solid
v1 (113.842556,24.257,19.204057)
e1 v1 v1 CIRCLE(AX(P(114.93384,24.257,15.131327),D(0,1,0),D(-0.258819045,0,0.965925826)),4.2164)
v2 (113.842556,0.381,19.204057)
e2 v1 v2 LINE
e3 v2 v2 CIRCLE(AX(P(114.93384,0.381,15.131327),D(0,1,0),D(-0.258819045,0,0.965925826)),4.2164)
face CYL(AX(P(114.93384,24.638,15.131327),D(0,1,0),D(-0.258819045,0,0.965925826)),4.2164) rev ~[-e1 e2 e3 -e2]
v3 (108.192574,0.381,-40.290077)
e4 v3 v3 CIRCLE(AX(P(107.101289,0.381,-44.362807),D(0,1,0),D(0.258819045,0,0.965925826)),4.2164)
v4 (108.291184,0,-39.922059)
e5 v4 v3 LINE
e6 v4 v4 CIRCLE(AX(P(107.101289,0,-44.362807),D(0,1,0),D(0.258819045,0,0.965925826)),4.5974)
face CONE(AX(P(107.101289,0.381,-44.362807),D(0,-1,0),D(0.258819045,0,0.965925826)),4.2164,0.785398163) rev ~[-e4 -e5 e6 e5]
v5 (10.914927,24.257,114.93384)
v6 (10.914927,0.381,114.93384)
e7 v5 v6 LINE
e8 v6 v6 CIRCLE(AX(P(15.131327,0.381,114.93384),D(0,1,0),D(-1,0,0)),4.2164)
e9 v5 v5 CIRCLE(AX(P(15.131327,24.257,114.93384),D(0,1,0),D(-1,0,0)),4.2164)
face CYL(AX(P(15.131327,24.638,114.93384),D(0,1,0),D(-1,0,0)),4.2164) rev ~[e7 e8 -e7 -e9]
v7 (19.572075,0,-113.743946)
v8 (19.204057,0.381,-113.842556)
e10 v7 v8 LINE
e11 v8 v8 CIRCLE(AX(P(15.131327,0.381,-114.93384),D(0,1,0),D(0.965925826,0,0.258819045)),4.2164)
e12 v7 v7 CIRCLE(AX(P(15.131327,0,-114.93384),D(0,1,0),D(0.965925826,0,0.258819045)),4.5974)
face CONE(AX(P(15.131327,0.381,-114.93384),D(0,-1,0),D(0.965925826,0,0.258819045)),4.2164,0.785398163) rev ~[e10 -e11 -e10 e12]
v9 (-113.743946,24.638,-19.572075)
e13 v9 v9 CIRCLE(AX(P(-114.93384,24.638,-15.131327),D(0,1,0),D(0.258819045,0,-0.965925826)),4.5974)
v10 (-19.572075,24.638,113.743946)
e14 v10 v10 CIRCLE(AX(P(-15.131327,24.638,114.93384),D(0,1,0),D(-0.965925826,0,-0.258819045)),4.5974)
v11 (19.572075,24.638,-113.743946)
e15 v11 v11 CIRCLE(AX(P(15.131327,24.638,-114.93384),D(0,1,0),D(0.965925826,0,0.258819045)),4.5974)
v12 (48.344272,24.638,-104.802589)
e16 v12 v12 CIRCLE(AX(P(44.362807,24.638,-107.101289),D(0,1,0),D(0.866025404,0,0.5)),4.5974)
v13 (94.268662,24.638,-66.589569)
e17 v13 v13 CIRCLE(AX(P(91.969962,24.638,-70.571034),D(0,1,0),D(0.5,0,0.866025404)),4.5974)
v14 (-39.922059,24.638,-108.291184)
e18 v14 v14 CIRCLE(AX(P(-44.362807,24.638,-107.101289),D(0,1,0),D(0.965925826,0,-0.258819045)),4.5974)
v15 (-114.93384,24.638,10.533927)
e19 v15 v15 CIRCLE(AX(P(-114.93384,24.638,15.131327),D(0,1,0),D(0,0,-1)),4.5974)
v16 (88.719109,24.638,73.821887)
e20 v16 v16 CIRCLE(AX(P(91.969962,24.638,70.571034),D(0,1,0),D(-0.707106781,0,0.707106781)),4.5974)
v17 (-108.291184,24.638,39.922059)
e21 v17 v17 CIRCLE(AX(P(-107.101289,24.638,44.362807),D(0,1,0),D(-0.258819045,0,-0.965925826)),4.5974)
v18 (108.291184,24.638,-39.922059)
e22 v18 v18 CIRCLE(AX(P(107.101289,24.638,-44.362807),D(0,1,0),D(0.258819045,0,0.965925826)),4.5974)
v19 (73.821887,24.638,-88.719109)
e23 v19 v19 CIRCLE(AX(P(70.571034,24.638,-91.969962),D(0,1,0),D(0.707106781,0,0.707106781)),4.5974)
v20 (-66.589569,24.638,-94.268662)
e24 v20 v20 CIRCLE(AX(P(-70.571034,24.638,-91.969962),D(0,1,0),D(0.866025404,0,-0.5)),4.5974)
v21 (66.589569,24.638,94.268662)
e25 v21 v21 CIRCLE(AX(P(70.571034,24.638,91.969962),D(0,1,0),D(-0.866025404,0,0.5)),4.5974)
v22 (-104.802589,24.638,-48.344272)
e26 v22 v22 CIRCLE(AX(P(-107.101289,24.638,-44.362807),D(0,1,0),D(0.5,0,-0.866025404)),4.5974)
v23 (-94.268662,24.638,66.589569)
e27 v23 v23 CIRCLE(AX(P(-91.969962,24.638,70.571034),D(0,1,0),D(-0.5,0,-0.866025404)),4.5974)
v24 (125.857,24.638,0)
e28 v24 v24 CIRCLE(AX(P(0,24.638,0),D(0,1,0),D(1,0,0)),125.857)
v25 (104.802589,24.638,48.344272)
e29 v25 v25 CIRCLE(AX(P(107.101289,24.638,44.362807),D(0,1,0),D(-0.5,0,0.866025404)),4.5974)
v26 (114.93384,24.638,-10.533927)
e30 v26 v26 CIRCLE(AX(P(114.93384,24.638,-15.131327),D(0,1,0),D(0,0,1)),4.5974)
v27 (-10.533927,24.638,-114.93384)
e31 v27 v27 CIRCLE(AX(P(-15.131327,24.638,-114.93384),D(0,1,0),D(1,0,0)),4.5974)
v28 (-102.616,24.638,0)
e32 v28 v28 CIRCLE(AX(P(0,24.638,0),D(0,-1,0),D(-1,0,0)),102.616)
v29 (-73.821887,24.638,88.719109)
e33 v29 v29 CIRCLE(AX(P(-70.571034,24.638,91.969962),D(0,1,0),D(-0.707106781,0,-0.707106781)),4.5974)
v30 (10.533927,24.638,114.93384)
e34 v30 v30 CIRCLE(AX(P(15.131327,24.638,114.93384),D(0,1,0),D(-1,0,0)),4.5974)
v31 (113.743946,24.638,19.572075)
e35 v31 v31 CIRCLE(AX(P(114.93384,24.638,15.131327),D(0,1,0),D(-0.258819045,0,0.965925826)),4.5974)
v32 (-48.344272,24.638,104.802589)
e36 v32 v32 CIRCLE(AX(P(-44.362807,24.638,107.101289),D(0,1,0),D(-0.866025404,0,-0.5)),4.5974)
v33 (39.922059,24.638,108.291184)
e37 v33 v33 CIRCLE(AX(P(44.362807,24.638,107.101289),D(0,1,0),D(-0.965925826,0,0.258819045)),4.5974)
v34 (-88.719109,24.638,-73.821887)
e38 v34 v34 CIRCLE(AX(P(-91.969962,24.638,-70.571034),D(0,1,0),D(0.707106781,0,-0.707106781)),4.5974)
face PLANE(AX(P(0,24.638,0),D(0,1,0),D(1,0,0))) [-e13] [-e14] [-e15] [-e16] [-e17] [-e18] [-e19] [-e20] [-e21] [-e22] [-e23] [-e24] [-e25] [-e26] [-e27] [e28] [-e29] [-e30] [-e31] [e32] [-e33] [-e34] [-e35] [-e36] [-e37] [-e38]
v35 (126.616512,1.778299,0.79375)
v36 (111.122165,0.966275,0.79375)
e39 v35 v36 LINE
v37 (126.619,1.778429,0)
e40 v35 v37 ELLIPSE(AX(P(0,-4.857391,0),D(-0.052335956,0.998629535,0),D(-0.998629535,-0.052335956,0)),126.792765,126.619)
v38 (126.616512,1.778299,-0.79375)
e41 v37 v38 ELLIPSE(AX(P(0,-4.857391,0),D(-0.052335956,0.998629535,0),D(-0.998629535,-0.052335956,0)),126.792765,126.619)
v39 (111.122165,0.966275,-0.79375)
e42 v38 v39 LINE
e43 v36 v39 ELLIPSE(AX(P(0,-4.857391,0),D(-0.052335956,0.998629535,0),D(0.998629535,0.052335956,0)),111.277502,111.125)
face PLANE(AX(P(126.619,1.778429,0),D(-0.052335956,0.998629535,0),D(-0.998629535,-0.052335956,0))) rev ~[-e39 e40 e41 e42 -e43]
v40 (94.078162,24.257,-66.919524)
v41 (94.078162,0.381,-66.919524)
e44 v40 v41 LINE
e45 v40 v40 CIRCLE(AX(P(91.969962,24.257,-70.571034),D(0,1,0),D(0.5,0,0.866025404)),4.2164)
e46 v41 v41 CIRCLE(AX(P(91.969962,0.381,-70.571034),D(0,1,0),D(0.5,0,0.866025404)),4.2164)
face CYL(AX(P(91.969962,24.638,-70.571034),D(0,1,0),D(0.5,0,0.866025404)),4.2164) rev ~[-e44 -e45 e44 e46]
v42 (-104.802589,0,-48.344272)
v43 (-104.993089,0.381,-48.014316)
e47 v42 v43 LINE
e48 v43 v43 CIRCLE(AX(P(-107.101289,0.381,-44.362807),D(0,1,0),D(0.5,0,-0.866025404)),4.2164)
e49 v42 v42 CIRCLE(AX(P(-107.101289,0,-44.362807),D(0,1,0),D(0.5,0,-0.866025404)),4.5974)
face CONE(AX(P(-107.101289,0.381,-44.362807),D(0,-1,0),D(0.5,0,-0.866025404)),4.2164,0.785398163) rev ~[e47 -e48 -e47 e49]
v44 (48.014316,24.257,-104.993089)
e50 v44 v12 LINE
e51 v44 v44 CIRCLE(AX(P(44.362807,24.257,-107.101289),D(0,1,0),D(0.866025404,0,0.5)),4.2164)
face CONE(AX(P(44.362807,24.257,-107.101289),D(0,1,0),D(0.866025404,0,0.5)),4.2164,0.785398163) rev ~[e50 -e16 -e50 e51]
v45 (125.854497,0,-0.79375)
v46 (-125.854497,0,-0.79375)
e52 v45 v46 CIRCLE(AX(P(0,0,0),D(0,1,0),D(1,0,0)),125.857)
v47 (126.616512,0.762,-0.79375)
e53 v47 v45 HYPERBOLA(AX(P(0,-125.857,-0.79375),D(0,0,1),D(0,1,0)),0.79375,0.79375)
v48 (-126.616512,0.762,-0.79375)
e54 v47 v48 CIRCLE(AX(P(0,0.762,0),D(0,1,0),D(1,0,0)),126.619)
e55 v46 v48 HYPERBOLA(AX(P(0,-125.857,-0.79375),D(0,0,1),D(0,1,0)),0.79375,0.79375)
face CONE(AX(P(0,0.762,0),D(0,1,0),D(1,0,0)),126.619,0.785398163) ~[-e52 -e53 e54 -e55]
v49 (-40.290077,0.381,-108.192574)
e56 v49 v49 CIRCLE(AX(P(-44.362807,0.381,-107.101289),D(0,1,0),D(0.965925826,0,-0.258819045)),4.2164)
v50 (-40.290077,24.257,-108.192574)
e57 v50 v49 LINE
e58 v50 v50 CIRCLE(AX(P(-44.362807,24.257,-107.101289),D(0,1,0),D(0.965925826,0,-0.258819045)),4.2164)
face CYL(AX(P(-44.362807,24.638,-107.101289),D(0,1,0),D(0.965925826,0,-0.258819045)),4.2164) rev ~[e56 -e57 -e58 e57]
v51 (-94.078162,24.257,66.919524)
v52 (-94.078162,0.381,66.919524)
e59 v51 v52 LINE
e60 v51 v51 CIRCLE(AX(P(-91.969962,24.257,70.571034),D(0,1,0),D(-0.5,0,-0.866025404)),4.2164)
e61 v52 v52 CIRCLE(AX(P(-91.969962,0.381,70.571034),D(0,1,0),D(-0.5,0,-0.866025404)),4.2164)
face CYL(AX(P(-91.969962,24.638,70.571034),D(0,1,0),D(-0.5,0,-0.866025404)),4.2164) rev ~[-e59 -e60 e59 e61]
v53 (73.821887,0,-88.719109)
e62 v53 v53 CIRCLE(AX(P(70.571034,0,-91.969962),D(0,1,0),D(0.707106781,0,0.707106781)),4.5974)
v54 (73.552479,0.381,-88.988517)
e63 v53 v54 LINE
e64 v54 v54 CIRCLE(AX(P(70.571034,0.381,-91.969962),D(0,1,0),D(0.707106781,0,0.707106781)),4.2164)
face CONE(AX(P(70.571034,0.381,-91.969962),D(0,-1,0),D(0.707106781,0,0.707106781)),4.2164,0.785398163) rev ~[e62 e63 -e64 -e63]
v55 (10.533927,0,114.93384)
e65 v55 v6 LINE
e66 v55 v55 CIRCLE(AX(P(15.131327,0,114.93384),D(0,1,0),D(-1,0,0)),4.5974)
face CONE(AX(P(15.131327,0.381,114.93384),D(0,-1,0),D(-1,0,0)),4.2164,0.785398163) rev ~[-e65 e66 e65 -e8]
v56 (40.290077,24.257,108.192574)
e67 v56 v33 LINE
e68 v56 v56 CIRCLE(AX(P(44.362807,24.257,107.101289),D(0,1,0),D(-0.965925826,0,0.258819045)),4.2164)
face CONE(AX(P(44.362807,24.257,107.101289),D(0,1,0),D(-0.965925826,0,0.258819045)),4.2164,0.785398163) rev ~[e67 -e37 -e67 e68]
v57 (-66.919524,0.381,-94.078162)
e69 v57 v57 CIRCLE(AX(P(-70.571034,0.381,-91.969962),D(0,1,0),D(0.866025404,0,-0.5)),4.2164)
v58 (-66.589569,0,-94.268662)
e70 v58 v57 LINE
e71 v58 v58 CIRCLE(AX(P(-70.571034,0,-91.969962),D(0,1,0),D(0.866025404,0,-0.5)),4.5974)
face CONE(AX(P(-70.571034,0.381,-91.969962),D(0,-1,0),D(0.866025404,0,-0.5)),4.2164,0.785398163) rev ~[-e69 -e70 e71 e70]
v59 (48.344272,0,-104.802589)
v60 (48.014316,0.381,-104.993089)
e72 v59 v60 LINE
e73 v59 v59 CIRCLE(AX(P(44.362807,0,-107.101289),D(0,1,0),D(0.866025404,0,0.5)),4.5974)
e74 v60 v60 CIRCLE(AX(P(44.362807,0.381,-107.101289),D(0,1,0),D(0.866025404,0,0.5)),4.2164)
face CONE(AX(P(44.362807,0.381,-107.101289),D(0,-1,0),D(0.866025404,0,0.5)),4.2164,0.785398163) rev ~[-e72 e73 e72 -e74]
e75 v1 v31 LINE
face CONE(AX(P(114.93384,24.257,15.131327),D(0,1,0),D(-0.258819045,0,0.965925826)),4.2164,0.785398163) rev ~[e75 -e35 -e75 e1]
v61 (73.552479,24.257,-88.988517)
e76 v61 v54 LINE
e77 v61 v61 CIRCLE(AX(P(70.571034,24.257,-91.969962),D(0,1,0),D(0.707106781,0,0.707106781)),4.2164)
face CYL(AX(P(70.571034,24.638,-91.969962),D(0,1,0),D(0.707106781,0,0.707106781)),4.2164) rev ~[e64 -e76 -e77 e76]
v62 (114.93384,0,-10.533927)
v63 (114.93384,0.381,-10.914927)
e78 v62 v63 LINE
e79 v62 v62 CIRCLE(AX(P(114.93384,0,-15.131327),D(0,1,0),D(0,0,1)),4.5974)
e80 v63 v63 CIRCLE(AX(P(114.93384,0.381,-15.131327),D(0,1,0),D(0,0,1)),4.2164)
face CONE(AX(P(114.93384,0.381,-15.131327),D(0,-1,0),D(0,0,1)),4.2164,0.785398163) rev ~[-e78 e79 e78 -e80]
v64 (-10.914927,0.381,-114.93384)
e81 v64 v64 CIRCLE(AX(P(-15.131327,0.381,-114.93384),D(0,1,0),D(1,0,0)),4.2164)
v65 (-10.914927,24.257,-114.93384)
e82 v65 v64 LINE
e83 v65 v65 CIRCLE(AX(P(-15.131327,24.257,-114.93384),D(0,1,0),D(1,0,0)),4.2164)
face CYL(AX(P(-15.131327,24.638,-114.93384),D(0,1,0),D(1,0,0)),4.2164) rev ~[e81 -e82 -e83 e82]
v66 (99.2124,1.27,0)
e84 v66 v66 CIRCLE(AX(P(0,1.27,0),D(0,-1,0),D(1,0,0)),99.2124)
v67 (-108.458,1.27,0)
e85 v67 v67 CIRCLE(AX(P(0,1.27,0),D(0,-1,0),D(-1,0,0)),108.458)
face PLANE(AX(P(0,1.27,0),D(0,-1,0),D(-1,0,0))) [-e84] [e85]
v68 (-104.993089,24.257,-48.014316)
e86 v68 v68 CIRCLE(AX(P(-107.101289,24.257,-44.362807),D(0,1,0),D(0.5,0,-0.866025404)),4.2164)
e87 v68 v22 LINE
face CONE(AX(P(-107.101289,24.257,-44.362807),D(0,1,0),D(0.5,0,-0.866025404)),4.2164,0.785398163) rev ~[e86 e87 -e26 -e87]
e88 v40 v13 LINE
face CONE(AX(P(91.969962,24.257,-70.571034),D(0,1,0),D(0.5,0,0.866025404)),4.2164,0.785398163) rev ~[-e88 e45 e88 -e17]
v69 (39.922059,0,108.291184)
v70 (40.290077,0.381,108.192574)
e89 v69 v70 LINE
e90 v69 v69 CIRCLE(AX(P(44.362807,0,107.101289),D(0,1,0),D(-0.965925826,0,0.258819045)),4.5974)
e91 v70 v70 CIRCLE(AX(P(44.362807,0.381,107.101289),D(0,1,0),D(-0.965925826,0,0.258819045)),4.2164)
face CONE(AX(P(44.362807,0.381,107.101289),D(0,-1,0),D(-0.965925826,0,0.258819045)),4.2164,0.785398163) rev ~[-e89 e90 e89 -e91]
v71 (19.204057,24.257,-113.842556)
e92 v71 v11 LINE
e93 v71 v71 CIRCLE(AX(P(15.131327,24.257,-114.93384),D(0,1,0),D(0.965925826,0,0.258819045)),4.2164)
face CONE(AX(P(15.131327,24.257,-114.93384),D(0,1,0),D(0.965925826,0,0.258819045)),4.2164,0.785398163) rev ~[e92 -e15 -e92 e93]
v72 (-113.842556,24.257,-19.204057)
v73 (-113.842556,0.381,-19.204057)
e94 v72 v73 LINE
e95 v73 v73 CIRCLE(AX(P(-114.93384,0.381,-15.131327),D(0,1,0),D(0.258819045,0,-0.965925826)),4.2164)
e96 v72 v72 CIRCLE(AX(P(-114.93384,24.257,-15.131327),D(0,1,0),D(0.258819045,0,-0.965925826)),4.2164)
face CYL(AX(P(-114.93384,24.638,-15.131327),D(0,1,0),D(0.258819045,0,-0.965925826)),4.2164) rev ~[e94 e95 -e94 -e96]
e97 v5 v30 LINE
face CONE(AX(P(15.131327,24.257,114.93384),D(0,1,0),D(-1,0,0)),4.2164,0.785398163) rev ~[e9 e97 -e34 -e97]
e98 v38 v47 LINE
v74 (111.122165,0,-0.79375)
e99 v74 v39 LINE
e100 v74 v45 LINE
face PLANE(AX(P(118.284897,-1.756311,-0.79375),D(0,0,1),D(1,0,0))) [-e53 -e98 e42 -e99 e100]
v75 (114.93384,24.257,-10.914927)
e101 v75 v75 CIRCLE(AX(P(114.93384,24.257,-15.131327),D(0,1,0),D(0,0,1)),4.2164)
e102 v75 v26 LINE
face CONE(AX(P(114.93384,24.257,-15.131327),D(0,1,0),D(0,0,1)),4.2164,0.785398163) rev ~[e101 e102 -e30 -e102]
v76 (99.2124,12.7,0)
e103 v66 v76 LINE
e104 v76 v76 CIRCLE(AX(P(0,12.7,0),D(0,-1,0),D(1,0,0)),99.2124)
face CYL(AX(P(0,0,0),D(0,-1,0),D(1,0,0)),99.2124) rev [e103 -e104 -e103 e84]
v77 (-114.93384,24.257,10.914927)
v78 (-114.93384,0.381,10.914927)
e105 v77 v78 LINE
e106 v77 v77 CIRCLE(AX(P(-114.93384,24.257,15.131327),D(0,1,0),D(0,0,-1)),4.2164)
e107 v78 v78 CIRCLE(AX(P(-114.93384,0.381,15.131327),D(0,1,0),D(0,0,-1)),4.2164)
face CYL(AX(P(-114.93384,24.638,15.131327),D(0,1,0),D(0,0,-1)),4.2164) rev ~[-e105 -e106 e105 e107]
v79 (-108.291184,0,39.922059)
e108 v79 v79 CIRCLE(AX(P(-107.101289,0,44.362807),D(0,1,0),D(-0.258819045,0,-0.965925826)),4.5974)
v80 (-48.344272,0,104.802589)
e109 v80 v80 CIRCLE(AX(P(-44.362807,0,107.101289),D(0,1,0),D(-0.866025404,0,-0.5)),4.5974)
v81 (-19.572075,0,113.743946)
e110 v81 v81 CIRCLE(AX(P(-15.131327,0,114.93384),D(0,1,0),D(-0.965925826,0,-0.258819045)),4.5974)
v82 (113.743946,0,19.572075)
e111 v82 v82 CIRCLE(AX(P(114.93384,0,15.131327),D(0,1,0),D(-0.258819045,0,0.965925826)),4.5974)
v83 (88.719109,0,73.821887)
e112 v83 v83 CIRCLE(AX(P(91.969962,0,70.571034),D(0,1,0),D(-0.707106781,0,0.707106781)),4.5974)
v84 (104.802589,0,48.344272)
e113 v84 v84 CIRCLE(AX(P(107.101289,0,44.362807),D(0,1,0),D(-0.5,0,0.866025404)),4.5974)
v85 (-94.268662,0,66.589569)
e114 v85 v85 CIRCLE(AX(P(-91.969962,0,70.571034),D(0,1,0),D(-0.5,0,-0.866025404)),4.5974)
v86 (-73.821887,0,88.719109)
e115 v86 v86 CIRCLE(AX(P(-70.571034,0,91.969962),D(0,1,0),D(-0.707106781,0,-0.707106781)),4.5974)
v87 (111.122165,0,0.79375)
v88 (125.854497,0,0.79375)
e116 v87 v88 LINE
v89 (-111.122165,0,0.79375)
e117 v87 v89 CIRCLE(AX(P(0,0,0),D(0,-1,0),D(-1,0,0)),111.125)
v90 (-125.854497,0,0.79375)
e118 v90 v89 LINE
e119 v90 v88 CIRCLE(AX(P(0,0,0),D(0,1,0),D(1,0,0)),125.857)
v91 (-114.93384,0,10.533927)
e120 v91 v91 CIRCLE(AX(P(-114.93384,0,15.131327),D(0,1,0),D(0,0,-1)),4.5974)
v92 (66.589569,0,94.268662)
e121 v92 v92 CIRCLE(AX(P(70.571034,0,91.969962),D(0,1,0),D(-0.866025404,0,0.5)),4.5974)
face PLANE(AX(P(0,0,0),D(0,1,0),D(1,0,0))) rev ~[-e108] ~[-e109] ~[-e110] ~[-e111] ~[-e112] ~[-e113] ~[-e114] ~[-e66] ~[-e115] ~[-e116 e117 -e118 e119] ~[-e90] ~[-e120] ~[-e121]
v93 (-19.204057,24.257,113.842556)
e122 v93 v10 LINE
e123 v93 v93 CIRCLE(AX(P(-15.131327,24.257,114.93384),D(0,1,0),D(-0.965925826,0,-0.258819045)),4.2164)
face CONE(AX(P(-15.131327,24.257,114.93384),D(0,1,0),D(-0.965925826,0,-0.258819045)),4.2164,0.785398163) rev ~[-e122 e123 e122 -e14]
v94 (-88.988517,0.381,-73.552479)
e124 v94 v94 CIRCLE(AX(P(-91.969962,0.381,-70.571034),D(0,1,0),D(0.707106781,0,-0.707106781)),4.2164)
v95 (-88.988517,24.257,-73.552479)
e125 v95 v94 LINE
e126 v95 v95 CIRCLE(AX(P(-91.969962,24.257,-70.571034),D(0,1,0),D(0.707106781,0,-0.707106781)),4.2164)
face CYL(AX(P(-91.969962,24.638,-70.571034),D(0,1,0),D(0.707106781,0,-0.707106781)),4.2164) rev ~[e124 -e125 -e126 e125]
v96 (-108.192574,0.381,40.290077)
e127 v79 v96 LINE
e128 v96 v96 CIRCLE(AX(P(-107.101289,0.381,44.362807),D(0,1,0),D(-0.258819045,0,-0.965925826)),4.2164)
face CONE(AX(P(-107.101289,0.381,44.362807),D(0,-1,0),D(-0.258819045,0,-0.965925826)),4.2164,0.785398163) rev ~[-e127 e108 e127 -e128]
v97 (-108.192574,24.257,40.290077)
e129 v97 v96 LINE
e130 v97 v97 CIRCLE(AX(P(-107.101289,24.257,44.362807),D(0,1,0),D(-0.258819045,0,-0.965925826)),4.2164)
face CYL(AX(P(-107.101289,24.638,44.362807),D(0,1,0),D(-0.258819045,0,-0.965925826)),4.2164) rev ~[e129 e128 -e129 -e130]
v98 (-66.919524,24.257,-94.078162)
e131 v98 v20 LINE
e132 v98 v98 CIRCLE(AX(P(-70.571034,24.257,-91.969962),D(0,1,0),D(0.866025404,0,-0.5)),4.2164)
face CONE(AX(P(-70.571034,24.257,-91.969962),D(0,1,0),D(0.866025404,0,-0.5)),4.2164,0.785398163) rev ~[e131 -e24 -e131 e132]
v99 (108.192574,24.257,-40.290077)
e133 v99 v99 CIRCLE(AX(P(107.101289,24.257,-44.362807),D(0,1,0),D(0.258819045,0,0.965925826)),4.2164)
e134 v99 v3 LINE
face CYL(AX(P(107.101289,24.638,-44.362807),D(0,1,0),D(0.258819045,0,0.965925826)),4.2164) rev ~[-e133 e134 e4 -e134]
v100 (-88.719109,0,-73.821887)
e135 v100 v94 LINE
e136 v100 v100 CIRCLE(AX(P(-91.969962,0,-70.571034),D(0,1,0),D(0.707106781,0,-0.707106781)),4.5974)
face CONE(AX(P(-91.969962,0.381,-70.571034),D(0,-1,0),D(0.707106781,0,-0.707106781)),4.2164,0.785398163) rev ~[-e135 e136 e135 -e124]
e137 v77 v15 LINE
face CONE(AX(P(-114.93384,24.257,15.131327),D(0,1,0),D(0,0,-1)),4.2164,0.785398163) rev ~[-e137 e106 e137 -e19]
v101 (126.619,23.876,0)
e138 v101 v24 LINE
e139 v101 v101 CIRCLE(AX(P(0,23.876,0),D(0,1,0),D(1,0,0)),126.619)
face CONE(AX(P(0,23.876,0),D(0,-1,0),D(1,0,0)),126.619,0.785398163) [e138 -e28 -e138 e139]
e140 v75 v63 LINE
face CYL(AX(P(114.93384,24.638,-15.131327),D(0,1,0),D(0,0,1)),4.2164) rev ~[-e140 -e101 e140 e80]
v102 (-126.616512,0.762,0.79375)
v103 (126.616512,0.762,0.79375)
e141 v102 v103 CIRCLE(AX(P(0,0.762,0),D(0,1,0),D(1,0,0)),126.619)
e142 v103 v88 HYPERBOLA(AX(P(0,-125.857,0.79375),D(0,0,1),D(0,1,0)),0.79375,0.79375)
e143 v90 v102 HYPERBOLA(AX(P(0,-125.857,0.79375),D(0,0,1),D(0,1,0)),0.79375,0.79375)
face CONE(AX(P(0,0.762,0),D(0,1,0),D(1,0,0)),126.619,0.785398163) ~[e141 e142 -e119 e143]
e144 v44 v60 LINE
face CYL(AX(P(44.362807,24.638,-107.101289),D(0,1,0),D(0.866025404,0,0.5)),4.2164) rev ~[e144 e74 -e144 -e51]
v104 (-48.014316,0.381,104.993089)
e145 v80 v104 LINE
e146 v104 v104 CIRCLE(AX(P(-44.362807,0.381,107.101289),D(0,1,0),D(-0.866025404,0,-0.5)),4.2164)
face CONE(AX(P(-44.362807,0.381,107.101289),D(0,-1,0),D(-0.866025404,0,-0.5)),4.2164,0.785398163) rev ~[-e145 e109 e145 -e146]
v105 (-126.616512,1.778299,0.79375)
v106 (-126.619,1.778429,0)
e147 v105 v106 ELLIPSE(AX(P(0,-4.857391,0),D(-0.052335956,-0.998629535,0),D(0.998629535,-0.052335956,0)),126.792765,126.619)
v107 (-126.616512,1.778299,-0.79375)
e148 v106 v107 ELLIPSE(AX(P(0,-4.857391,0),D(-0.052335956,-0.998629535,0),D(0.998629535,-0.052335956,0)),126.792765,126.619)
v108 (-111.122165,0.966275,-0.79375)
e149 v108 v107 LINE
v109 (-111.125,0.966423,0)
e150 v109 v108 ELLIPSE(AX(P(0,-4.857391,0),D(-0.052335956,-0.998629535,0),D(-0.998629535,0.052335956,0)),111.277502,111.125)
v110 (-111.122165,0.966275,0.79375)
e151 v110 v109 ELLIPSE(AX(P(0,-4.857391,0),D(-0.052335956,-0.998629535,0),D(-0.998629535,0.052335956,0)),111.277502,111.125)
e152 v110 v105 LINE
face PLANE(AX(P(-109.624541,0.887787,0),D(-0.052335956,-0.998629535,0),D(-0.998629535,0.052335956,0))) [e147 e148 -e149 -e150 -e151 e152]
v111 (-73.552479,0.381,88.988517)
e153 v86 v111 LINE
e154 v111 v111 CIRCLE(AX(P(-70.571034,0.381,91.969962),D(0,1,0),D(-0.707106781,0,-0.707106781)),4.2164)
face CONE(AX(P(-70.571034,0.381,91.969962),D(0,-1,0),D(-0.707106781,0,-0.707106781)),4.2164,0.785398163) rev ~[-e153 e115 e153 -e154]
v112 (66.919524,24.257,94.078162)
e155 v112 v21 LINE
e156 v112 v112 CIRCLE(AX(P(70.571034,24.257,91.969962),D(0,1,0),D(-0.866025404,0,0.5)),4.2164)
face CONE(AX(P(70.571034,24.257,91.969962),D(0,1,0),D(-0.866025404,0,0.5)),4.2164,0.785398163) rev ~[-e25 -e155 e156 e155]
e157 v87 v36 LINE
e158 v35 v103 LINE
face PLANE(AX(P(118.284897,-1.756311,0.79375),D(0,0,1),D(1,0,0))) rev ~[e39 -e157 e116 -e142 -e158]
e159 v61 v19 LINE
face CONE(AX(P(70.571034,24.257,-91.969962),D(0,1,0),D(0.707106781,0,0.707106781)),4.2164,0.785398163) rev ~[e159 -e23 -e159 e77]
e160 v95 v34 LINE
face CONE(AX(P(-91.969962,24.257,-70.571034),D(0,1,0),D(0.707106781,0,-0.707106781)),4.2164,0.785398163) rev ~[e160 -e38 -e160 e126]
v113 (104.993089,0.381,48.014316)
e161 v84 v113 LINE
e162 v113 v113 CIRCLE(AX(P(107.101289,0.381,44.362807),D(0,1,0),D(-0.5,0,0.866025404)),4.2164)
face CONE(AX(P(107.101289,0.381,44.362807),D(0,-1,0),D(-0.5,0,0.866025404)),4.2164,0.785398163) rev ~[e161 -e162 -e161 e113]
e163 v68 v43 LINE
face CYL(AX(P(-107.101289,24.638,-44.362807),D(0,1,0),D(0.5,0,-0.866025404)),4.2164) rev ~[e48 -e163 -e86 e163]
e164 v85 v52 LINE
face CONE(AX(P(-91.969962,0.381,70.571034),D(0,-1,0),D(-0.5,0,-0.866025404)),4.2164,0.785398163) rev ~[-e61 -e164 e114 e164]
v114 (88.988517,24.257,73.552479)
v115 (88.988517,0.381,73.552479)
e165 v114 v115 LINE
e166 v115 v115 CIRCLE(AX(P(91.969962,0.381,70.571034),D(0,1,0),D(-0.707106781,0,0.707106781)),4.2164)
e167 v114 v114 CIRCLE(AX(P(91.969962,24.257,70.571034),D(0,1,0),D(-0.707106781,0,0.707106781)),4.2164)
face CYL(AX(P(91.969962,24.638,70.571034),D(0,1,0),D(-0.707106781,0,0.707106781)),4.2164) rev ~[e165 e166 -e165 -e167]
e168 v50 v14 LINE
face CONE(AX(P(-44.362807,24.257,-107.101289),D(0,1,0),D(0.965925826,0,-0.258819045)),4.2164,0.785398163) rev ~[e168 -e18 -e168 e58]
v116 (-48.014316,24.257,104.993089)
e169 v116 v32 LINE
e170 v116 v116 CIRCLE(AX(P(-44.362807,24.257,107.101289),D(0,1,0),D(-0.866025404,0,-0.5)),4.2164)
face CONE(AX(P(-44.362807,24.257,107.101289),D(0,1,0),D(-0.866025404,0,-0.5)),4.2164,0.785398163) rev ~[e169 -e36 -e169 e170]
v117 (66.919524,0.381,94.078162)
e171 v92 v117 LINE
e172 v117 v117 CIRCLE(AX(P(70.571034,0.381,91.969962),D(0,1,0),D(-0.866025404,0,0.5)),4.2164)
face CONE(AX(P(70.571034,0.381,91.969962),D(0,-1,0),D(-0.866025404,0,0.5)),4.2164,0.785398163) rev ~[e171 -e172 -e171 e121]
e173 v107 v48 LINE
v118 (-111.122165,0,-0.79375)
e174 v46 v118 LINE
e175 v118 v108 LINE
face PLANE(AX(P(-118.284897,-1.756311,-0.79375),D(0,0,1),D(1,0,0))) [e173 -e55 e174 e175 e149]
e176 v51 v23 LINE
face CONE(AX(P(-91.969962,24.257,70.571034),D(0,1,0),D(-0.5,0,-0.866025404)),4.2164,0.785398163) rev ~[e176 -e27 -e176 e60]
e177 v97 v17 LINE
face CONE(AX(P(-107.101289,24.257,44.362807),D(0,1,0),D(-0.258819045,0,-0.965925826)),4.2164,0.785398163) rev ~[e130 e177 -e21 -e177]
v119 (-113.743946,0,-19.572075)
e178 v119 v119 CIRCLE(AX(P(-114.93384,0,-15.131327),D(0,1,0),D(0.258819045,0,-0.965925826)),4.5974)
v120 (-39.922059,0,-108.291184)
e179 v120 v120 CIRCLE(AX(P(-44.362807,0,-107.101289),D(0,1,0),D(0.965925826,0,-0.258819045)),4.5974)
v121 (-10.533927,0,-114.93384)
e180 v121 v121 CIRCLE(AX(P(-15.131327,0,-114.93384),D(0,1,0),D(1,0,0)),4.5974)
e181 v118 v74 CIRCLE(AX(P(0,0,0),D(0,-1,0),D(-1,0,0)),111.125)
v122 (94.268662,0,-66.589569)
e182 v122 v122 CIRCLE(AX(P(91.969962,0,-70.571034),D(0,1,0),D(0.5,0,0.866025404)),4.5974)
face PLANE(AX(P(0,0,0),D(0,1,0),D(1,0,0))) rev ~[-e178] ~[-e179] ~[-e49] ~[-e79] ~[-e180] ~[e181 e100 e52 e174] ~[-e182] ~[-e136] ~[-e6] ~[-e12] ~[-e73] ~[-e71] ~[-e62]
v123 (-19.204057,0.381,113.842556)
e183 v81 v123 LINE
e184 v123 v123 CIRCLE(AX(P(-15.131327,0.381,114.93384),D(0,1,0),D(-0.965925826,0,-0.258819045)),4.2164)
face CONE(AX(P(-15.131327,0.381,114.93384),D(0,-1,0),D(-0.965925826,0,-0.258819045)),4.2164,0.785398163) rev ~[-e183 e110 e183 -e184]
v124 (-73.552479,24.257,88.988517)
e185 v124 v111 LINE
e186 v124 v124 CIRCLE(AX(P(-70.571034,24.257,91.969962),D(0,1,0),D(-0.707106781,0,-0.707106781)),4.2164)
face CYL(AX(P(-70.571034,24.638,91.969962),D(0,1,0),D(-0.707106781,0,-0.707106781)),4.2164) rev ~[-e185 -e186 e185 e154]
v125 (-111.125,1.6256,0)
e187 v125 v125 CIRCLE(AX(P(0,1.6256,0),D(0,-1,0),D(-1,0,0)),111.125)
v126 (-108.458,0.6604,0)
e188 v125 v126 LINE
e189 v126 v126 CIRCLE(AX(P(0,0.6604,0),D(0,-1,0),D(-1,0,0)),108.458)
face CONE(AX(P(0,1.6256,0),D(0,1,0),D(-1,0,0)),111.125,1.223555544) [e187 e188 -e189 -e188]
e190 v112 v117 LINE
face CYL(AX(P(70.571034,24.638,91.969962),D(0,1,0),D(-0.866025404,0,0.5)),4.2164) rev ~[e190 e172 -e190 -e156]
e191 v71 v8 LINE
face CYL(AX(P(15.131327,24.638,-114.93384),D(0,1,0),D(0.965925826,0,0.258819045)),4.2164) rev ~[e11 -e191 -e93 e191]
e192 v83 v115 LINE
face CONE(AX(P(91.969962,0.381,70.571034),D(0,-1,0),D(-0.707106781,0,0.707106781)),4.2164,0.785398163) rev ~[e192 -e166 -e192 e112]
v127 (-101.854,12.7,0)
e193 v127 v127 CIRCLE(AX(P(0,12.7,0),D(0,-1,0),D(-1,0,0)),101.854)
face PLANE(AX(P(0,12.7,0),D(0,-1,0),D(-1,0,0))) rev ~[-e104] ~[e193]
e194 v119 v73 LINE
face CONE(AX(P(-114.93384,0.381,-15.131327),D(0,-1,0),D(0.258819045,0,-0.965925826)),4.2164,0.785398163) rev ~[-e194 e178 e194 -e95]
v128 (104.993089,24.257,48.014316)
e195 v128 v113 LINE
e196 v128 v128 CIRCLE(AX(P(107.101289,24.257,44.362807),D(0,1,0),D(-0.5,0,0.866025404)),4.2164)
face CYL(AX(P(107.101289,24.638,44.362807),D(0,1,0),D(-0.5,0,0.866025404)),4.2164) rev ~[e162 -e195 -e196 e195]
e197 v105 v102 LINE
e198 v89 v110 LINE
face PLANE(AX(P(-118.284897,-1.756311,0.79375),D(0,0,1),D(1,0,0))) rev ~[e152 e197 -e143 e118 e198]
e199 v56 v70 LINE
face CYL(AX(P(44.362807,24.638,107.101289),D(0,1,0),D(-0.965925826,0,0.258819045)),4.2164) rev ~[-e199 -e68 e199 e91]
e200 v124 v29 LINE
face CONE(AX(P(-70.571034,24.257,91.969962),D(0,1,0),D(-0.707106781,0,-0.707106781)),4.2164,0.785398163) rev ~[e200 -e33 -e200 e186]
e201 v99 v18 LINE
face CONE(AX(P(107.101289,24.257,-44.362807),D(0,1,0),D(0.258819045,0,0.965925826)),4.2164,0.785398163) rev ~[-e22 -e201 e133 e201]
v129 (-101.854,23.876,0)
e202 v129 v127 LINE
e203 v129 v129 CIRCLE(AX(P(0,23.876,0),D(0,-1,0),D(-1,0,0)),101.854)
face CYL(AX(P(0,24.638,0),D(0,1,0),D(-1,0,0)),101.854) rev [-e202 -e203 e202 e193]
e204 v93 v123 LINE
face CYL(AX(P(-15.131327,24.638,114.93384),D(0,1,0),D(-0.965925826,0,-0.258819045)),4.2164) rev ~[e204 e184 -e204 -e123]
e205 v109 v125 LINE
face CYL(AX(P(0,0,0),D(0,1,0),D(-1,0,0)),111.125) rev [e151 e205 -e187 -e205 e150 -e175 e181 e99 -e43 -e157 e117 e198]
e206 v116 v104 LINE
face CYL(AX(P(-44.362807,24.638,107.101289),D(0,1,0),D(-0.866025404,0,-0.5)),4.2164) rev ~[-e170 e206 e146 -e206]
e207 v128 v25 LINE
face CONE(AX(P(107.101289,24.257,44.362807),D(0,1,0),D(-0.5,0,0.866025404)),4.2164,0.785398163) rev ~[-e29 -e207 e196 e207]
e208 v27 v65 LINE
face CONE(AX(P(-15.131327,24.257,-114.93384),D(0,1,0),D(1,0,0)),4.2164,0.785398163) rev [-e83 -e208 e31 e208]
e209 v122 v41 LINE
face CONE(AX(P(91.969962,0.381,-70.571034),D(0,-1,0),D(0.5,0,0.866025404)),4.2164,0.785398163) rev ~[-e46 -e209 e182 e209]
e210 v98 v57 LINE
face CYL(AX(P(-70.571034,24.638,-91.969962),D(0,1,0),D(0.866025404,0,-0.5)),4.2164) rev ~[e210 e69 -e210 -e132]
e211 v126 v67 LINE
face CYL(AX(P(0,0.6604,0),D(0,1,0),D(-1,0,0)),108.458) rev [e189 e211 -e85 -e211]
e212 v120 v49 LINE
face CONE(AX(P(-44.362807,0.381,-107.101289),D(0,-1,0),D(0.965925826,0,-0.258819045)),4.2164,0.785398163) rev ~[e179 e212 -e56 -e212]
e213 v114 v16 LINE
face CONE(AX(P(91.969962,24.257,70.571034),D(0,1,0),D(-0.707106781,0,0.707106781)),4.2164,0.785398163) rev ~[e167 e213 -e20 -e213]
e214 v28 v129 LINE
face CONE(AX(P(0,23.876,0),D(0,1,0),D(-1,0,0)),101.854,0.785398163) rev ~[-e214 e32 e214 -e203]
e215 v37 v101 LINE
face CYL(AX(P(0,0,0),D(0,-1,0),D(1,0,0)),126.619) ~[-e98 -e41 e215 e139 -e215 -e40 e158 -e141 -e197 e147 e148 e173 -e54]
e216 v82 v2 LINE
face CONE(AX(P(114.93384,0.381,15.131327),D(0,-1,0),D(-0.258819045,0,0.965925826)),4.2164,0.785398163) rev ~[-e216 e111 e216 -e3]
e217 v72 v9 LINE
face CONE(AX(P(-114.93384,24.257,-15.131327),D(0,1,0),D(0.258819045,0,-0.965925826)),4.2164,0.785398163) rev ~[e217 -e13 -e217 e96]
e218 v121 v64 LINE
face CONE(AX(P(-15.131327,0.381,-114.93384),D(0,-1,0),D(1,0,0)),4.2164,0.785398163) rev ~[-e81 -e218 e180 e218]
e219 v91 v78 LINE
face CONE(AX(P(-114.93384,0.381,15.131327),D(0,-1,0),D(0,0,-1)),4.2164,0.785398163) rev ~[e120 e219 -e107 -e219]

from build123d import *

# Parameters (mm, degrees)
SKETCH1_R                    = 126.619
SKETCH1_R_2                  = 99.2124
BOSS_EXTRUDE1_DEPTH          = 24.638
SKETCH2_R                    = 101.854
CUT_EXTRUDE1_DEPTH           = 11.938
CHAMFER1_SIZE                = 0.762
SKETCH3_R                    = 4.2164
CUT_EXTRUDE2_DEPTH           = 25.638
CHAMFER2_SIZE                = 0.381
CIRPATTERN1_COUNT            = 24
CHAMFER2_OF_CIRPATTERN1_SIZE = 0.381
CUT_EXTRUDE3_DEPTH           = 0.79375


with BuildPart() as part:
    # Sketch1 → Boss-Extrude1 (new body)
    with BuildSketch(Plane(origin=(0, 0, 0), x_dir=(1, 0, 0), z_dir=(0, 1, 0))):
        Circle(SKETCH1_R)
        Circle(SKETCH1_R_2, mode=Mode.SUBTRACT)
    extrude(amount=BOSS_EXTRUDE1_DEPTH)

    # Sketch2 → Cut-Extrude1 (cut)
    with BuildSketch(Plane(origin=(0, 24.638, 0), x_dir=(-1, 0, 0), z_dir=(0, -1, 0))):
        Circle(SKETCH2_R)
    extrude(amount=CUT_EXTRUDE1_DEPTH, mode=Mode.SUBTRACT)

    # Chamfer1
    chamfer1_edges = [part.edges().sort_by_distance(p)[0] for p in [
        (101.854, 24.638, 0),
        (-126.619, 0, 0),
        (-126.619, 24.638, 0),
    ]]
    chamfer(chamfer1_edges, length=CHAMFER1_SIZE)

    # Sketch4 → Cut-Revolve1 (revolve, cut)
    with BuildSketch(Plane.XY):
        Polygon((-111.125, 0), (-111.125, 1.6256), (-108.458, 0.6604), (-108.458, 1.27), (0, 1.27), (0, 0), align=None)
    revolve(axis=Axis((0, 24.638, 0), (0, -1, 0)), mode=Mode.SUBTRACT)

    # Sketch3 → Cut-Extrude2 (cut, through all)
    with BuildSketch(Plane(origin=(0, 24.638, 0), x_dir=(1, 0, 0), z_dir=(0, 1, 0))):
        with Locations((-15.131327149, 114.933840422)):
            Circle(SKETCH3_R)
    cut_extrude2 = extrude(amount=-CUT_EXTRUDE2_DEPTH, mode=Mode.SUBTRACT)

    # Chamfer2
    chamfer2_edges = [part.edges().sort_by_distance(p)[0] for p in [
        (-19.347727149, 0, -114.933840422),
        (-19.347727149, 24.638, -114.933840422),
    ]]
    chamfer(chamfer2_edges, length=CHAMFER2_SIZE)

    # CirPattern1: Cut-Extrude2 ×24 about axis
    cirpattern1_axis = Axis((0, 0, 0), (0, 1, 0))
    for i in range(1, CIRPATTERN1_COUNT):
        add(cut_extrude2.rotate(cirpattern1_axis, i * 360 / CIRPATTERN1_COUNT), mode=Mode.SUBTRACT)

    # Chamfer2 of CirPattern1
    chamfer2_of_cirpattern1_edges = [part.edges().sort_by_distance(p)[0] for p in [
        (-48.435536161, 0, -106.010004512),
        (-48.435536161, 24.638, -106.010004512),
        (-74.222543427, 0, -89.861761985),
        (-74.222543427, 24.638, -89.861761985),
        (-94.951407017, 0, -67.589588882),
        (-94.951407017, 24.638, -67.589588882),
        (-109.209489134, 0, -40.711296994),
        (-109.209489134, 24.638, -40.711296994),
        (-116.025125043, 0, -11.058597495),
        (-116.025125043, 24.638, -11.058597495),
        (-114.933840422, 0, 19.347727149),
        (-114.933840422, 24.638, 19.347727149),
        (-106.010004512, 0, 48.435536161),
        (-106.010004512, 24.638, 48.435536161),
        (-89.861761985, 0, 74.222543427),
        (-89.861761985, 24.638, 74.222543427),
        (-67.589588882, 0, 94.951407017),
        (-67.589588882, 24.638, 94.951407017),
        (-40.711296994, 0, 109.209489134),
        (-40.711296994, 24.638, 109.209489134),
        (-11.058597495, 0, 116.025125043),
        (-11.058597495, 24.638, 116.025125043),
        (19.347727149, 0, 114.933840422),
        (19.347727149, 24.638, 114.933840422),
        (48.435536161, 0, 106.010004512),
        (48.435536161, 24.638, 106.010004512),
        (74.222543427, 0, 89.861761985),
        (74.222543427, 24.638, 89.861761985),
        (94.951407017, 0, 67.589588882),
        (94.951407017, 24.638, 67.589588882),
        (109.209489134, 0, 40.711296994),
        (109.209489134, 24.638, 40.711296994),
        (116.025125043, 0, 11.058597495),
        (116.025125043, 24.638, 11.058597495),
        (114.933840422, 0, -19.347727149),
        (114.933840422, 24.638, -19.347727149),
        (106.010004512, 0, -48.435536161),
        (106.010004512, 24.638, -48.435536161),
        (89.861761985, 0, -74.222543427),
        (89.861761985, 24.638, -74.222543427),
        (67.589588882, 0, -94.951407017),
        (67.589588882, 24.638, -94.951407017),
        (40.711296994, 0, -109.209489134),
        (40.711296994, 24.638, -109.209489134),
        (11.058597495, 0, -116.025125043),
        (11.058597495, 24.638, -116.025125043),
    ]]
    chamfer(chamfer2_of_cirpattern1_edges, length=CHAMFER2_OF_CIRPATTERN1_SIZE)

    # Sketch5 → Cut-Extrude3 (cut, symmetric)
    with BuildSketch(Plane.XY):
        Polygon((-109.62454103, 0.887787398), (-126.619, 1.778429253), (-126.619, -4.857391352), (-109.62454103, -4.857391352), align=None)
        Polygon((109.62454103, 0.887787398), (109.62454103, -4.857391352), (126.619, -4.857391352), (126.619, 1.778429253), align=None)
    extrude(amount=CUT_EXTRUDE3_DEPTH, both=True, mode=Mode.SUBTRACT)


solid = part.part
